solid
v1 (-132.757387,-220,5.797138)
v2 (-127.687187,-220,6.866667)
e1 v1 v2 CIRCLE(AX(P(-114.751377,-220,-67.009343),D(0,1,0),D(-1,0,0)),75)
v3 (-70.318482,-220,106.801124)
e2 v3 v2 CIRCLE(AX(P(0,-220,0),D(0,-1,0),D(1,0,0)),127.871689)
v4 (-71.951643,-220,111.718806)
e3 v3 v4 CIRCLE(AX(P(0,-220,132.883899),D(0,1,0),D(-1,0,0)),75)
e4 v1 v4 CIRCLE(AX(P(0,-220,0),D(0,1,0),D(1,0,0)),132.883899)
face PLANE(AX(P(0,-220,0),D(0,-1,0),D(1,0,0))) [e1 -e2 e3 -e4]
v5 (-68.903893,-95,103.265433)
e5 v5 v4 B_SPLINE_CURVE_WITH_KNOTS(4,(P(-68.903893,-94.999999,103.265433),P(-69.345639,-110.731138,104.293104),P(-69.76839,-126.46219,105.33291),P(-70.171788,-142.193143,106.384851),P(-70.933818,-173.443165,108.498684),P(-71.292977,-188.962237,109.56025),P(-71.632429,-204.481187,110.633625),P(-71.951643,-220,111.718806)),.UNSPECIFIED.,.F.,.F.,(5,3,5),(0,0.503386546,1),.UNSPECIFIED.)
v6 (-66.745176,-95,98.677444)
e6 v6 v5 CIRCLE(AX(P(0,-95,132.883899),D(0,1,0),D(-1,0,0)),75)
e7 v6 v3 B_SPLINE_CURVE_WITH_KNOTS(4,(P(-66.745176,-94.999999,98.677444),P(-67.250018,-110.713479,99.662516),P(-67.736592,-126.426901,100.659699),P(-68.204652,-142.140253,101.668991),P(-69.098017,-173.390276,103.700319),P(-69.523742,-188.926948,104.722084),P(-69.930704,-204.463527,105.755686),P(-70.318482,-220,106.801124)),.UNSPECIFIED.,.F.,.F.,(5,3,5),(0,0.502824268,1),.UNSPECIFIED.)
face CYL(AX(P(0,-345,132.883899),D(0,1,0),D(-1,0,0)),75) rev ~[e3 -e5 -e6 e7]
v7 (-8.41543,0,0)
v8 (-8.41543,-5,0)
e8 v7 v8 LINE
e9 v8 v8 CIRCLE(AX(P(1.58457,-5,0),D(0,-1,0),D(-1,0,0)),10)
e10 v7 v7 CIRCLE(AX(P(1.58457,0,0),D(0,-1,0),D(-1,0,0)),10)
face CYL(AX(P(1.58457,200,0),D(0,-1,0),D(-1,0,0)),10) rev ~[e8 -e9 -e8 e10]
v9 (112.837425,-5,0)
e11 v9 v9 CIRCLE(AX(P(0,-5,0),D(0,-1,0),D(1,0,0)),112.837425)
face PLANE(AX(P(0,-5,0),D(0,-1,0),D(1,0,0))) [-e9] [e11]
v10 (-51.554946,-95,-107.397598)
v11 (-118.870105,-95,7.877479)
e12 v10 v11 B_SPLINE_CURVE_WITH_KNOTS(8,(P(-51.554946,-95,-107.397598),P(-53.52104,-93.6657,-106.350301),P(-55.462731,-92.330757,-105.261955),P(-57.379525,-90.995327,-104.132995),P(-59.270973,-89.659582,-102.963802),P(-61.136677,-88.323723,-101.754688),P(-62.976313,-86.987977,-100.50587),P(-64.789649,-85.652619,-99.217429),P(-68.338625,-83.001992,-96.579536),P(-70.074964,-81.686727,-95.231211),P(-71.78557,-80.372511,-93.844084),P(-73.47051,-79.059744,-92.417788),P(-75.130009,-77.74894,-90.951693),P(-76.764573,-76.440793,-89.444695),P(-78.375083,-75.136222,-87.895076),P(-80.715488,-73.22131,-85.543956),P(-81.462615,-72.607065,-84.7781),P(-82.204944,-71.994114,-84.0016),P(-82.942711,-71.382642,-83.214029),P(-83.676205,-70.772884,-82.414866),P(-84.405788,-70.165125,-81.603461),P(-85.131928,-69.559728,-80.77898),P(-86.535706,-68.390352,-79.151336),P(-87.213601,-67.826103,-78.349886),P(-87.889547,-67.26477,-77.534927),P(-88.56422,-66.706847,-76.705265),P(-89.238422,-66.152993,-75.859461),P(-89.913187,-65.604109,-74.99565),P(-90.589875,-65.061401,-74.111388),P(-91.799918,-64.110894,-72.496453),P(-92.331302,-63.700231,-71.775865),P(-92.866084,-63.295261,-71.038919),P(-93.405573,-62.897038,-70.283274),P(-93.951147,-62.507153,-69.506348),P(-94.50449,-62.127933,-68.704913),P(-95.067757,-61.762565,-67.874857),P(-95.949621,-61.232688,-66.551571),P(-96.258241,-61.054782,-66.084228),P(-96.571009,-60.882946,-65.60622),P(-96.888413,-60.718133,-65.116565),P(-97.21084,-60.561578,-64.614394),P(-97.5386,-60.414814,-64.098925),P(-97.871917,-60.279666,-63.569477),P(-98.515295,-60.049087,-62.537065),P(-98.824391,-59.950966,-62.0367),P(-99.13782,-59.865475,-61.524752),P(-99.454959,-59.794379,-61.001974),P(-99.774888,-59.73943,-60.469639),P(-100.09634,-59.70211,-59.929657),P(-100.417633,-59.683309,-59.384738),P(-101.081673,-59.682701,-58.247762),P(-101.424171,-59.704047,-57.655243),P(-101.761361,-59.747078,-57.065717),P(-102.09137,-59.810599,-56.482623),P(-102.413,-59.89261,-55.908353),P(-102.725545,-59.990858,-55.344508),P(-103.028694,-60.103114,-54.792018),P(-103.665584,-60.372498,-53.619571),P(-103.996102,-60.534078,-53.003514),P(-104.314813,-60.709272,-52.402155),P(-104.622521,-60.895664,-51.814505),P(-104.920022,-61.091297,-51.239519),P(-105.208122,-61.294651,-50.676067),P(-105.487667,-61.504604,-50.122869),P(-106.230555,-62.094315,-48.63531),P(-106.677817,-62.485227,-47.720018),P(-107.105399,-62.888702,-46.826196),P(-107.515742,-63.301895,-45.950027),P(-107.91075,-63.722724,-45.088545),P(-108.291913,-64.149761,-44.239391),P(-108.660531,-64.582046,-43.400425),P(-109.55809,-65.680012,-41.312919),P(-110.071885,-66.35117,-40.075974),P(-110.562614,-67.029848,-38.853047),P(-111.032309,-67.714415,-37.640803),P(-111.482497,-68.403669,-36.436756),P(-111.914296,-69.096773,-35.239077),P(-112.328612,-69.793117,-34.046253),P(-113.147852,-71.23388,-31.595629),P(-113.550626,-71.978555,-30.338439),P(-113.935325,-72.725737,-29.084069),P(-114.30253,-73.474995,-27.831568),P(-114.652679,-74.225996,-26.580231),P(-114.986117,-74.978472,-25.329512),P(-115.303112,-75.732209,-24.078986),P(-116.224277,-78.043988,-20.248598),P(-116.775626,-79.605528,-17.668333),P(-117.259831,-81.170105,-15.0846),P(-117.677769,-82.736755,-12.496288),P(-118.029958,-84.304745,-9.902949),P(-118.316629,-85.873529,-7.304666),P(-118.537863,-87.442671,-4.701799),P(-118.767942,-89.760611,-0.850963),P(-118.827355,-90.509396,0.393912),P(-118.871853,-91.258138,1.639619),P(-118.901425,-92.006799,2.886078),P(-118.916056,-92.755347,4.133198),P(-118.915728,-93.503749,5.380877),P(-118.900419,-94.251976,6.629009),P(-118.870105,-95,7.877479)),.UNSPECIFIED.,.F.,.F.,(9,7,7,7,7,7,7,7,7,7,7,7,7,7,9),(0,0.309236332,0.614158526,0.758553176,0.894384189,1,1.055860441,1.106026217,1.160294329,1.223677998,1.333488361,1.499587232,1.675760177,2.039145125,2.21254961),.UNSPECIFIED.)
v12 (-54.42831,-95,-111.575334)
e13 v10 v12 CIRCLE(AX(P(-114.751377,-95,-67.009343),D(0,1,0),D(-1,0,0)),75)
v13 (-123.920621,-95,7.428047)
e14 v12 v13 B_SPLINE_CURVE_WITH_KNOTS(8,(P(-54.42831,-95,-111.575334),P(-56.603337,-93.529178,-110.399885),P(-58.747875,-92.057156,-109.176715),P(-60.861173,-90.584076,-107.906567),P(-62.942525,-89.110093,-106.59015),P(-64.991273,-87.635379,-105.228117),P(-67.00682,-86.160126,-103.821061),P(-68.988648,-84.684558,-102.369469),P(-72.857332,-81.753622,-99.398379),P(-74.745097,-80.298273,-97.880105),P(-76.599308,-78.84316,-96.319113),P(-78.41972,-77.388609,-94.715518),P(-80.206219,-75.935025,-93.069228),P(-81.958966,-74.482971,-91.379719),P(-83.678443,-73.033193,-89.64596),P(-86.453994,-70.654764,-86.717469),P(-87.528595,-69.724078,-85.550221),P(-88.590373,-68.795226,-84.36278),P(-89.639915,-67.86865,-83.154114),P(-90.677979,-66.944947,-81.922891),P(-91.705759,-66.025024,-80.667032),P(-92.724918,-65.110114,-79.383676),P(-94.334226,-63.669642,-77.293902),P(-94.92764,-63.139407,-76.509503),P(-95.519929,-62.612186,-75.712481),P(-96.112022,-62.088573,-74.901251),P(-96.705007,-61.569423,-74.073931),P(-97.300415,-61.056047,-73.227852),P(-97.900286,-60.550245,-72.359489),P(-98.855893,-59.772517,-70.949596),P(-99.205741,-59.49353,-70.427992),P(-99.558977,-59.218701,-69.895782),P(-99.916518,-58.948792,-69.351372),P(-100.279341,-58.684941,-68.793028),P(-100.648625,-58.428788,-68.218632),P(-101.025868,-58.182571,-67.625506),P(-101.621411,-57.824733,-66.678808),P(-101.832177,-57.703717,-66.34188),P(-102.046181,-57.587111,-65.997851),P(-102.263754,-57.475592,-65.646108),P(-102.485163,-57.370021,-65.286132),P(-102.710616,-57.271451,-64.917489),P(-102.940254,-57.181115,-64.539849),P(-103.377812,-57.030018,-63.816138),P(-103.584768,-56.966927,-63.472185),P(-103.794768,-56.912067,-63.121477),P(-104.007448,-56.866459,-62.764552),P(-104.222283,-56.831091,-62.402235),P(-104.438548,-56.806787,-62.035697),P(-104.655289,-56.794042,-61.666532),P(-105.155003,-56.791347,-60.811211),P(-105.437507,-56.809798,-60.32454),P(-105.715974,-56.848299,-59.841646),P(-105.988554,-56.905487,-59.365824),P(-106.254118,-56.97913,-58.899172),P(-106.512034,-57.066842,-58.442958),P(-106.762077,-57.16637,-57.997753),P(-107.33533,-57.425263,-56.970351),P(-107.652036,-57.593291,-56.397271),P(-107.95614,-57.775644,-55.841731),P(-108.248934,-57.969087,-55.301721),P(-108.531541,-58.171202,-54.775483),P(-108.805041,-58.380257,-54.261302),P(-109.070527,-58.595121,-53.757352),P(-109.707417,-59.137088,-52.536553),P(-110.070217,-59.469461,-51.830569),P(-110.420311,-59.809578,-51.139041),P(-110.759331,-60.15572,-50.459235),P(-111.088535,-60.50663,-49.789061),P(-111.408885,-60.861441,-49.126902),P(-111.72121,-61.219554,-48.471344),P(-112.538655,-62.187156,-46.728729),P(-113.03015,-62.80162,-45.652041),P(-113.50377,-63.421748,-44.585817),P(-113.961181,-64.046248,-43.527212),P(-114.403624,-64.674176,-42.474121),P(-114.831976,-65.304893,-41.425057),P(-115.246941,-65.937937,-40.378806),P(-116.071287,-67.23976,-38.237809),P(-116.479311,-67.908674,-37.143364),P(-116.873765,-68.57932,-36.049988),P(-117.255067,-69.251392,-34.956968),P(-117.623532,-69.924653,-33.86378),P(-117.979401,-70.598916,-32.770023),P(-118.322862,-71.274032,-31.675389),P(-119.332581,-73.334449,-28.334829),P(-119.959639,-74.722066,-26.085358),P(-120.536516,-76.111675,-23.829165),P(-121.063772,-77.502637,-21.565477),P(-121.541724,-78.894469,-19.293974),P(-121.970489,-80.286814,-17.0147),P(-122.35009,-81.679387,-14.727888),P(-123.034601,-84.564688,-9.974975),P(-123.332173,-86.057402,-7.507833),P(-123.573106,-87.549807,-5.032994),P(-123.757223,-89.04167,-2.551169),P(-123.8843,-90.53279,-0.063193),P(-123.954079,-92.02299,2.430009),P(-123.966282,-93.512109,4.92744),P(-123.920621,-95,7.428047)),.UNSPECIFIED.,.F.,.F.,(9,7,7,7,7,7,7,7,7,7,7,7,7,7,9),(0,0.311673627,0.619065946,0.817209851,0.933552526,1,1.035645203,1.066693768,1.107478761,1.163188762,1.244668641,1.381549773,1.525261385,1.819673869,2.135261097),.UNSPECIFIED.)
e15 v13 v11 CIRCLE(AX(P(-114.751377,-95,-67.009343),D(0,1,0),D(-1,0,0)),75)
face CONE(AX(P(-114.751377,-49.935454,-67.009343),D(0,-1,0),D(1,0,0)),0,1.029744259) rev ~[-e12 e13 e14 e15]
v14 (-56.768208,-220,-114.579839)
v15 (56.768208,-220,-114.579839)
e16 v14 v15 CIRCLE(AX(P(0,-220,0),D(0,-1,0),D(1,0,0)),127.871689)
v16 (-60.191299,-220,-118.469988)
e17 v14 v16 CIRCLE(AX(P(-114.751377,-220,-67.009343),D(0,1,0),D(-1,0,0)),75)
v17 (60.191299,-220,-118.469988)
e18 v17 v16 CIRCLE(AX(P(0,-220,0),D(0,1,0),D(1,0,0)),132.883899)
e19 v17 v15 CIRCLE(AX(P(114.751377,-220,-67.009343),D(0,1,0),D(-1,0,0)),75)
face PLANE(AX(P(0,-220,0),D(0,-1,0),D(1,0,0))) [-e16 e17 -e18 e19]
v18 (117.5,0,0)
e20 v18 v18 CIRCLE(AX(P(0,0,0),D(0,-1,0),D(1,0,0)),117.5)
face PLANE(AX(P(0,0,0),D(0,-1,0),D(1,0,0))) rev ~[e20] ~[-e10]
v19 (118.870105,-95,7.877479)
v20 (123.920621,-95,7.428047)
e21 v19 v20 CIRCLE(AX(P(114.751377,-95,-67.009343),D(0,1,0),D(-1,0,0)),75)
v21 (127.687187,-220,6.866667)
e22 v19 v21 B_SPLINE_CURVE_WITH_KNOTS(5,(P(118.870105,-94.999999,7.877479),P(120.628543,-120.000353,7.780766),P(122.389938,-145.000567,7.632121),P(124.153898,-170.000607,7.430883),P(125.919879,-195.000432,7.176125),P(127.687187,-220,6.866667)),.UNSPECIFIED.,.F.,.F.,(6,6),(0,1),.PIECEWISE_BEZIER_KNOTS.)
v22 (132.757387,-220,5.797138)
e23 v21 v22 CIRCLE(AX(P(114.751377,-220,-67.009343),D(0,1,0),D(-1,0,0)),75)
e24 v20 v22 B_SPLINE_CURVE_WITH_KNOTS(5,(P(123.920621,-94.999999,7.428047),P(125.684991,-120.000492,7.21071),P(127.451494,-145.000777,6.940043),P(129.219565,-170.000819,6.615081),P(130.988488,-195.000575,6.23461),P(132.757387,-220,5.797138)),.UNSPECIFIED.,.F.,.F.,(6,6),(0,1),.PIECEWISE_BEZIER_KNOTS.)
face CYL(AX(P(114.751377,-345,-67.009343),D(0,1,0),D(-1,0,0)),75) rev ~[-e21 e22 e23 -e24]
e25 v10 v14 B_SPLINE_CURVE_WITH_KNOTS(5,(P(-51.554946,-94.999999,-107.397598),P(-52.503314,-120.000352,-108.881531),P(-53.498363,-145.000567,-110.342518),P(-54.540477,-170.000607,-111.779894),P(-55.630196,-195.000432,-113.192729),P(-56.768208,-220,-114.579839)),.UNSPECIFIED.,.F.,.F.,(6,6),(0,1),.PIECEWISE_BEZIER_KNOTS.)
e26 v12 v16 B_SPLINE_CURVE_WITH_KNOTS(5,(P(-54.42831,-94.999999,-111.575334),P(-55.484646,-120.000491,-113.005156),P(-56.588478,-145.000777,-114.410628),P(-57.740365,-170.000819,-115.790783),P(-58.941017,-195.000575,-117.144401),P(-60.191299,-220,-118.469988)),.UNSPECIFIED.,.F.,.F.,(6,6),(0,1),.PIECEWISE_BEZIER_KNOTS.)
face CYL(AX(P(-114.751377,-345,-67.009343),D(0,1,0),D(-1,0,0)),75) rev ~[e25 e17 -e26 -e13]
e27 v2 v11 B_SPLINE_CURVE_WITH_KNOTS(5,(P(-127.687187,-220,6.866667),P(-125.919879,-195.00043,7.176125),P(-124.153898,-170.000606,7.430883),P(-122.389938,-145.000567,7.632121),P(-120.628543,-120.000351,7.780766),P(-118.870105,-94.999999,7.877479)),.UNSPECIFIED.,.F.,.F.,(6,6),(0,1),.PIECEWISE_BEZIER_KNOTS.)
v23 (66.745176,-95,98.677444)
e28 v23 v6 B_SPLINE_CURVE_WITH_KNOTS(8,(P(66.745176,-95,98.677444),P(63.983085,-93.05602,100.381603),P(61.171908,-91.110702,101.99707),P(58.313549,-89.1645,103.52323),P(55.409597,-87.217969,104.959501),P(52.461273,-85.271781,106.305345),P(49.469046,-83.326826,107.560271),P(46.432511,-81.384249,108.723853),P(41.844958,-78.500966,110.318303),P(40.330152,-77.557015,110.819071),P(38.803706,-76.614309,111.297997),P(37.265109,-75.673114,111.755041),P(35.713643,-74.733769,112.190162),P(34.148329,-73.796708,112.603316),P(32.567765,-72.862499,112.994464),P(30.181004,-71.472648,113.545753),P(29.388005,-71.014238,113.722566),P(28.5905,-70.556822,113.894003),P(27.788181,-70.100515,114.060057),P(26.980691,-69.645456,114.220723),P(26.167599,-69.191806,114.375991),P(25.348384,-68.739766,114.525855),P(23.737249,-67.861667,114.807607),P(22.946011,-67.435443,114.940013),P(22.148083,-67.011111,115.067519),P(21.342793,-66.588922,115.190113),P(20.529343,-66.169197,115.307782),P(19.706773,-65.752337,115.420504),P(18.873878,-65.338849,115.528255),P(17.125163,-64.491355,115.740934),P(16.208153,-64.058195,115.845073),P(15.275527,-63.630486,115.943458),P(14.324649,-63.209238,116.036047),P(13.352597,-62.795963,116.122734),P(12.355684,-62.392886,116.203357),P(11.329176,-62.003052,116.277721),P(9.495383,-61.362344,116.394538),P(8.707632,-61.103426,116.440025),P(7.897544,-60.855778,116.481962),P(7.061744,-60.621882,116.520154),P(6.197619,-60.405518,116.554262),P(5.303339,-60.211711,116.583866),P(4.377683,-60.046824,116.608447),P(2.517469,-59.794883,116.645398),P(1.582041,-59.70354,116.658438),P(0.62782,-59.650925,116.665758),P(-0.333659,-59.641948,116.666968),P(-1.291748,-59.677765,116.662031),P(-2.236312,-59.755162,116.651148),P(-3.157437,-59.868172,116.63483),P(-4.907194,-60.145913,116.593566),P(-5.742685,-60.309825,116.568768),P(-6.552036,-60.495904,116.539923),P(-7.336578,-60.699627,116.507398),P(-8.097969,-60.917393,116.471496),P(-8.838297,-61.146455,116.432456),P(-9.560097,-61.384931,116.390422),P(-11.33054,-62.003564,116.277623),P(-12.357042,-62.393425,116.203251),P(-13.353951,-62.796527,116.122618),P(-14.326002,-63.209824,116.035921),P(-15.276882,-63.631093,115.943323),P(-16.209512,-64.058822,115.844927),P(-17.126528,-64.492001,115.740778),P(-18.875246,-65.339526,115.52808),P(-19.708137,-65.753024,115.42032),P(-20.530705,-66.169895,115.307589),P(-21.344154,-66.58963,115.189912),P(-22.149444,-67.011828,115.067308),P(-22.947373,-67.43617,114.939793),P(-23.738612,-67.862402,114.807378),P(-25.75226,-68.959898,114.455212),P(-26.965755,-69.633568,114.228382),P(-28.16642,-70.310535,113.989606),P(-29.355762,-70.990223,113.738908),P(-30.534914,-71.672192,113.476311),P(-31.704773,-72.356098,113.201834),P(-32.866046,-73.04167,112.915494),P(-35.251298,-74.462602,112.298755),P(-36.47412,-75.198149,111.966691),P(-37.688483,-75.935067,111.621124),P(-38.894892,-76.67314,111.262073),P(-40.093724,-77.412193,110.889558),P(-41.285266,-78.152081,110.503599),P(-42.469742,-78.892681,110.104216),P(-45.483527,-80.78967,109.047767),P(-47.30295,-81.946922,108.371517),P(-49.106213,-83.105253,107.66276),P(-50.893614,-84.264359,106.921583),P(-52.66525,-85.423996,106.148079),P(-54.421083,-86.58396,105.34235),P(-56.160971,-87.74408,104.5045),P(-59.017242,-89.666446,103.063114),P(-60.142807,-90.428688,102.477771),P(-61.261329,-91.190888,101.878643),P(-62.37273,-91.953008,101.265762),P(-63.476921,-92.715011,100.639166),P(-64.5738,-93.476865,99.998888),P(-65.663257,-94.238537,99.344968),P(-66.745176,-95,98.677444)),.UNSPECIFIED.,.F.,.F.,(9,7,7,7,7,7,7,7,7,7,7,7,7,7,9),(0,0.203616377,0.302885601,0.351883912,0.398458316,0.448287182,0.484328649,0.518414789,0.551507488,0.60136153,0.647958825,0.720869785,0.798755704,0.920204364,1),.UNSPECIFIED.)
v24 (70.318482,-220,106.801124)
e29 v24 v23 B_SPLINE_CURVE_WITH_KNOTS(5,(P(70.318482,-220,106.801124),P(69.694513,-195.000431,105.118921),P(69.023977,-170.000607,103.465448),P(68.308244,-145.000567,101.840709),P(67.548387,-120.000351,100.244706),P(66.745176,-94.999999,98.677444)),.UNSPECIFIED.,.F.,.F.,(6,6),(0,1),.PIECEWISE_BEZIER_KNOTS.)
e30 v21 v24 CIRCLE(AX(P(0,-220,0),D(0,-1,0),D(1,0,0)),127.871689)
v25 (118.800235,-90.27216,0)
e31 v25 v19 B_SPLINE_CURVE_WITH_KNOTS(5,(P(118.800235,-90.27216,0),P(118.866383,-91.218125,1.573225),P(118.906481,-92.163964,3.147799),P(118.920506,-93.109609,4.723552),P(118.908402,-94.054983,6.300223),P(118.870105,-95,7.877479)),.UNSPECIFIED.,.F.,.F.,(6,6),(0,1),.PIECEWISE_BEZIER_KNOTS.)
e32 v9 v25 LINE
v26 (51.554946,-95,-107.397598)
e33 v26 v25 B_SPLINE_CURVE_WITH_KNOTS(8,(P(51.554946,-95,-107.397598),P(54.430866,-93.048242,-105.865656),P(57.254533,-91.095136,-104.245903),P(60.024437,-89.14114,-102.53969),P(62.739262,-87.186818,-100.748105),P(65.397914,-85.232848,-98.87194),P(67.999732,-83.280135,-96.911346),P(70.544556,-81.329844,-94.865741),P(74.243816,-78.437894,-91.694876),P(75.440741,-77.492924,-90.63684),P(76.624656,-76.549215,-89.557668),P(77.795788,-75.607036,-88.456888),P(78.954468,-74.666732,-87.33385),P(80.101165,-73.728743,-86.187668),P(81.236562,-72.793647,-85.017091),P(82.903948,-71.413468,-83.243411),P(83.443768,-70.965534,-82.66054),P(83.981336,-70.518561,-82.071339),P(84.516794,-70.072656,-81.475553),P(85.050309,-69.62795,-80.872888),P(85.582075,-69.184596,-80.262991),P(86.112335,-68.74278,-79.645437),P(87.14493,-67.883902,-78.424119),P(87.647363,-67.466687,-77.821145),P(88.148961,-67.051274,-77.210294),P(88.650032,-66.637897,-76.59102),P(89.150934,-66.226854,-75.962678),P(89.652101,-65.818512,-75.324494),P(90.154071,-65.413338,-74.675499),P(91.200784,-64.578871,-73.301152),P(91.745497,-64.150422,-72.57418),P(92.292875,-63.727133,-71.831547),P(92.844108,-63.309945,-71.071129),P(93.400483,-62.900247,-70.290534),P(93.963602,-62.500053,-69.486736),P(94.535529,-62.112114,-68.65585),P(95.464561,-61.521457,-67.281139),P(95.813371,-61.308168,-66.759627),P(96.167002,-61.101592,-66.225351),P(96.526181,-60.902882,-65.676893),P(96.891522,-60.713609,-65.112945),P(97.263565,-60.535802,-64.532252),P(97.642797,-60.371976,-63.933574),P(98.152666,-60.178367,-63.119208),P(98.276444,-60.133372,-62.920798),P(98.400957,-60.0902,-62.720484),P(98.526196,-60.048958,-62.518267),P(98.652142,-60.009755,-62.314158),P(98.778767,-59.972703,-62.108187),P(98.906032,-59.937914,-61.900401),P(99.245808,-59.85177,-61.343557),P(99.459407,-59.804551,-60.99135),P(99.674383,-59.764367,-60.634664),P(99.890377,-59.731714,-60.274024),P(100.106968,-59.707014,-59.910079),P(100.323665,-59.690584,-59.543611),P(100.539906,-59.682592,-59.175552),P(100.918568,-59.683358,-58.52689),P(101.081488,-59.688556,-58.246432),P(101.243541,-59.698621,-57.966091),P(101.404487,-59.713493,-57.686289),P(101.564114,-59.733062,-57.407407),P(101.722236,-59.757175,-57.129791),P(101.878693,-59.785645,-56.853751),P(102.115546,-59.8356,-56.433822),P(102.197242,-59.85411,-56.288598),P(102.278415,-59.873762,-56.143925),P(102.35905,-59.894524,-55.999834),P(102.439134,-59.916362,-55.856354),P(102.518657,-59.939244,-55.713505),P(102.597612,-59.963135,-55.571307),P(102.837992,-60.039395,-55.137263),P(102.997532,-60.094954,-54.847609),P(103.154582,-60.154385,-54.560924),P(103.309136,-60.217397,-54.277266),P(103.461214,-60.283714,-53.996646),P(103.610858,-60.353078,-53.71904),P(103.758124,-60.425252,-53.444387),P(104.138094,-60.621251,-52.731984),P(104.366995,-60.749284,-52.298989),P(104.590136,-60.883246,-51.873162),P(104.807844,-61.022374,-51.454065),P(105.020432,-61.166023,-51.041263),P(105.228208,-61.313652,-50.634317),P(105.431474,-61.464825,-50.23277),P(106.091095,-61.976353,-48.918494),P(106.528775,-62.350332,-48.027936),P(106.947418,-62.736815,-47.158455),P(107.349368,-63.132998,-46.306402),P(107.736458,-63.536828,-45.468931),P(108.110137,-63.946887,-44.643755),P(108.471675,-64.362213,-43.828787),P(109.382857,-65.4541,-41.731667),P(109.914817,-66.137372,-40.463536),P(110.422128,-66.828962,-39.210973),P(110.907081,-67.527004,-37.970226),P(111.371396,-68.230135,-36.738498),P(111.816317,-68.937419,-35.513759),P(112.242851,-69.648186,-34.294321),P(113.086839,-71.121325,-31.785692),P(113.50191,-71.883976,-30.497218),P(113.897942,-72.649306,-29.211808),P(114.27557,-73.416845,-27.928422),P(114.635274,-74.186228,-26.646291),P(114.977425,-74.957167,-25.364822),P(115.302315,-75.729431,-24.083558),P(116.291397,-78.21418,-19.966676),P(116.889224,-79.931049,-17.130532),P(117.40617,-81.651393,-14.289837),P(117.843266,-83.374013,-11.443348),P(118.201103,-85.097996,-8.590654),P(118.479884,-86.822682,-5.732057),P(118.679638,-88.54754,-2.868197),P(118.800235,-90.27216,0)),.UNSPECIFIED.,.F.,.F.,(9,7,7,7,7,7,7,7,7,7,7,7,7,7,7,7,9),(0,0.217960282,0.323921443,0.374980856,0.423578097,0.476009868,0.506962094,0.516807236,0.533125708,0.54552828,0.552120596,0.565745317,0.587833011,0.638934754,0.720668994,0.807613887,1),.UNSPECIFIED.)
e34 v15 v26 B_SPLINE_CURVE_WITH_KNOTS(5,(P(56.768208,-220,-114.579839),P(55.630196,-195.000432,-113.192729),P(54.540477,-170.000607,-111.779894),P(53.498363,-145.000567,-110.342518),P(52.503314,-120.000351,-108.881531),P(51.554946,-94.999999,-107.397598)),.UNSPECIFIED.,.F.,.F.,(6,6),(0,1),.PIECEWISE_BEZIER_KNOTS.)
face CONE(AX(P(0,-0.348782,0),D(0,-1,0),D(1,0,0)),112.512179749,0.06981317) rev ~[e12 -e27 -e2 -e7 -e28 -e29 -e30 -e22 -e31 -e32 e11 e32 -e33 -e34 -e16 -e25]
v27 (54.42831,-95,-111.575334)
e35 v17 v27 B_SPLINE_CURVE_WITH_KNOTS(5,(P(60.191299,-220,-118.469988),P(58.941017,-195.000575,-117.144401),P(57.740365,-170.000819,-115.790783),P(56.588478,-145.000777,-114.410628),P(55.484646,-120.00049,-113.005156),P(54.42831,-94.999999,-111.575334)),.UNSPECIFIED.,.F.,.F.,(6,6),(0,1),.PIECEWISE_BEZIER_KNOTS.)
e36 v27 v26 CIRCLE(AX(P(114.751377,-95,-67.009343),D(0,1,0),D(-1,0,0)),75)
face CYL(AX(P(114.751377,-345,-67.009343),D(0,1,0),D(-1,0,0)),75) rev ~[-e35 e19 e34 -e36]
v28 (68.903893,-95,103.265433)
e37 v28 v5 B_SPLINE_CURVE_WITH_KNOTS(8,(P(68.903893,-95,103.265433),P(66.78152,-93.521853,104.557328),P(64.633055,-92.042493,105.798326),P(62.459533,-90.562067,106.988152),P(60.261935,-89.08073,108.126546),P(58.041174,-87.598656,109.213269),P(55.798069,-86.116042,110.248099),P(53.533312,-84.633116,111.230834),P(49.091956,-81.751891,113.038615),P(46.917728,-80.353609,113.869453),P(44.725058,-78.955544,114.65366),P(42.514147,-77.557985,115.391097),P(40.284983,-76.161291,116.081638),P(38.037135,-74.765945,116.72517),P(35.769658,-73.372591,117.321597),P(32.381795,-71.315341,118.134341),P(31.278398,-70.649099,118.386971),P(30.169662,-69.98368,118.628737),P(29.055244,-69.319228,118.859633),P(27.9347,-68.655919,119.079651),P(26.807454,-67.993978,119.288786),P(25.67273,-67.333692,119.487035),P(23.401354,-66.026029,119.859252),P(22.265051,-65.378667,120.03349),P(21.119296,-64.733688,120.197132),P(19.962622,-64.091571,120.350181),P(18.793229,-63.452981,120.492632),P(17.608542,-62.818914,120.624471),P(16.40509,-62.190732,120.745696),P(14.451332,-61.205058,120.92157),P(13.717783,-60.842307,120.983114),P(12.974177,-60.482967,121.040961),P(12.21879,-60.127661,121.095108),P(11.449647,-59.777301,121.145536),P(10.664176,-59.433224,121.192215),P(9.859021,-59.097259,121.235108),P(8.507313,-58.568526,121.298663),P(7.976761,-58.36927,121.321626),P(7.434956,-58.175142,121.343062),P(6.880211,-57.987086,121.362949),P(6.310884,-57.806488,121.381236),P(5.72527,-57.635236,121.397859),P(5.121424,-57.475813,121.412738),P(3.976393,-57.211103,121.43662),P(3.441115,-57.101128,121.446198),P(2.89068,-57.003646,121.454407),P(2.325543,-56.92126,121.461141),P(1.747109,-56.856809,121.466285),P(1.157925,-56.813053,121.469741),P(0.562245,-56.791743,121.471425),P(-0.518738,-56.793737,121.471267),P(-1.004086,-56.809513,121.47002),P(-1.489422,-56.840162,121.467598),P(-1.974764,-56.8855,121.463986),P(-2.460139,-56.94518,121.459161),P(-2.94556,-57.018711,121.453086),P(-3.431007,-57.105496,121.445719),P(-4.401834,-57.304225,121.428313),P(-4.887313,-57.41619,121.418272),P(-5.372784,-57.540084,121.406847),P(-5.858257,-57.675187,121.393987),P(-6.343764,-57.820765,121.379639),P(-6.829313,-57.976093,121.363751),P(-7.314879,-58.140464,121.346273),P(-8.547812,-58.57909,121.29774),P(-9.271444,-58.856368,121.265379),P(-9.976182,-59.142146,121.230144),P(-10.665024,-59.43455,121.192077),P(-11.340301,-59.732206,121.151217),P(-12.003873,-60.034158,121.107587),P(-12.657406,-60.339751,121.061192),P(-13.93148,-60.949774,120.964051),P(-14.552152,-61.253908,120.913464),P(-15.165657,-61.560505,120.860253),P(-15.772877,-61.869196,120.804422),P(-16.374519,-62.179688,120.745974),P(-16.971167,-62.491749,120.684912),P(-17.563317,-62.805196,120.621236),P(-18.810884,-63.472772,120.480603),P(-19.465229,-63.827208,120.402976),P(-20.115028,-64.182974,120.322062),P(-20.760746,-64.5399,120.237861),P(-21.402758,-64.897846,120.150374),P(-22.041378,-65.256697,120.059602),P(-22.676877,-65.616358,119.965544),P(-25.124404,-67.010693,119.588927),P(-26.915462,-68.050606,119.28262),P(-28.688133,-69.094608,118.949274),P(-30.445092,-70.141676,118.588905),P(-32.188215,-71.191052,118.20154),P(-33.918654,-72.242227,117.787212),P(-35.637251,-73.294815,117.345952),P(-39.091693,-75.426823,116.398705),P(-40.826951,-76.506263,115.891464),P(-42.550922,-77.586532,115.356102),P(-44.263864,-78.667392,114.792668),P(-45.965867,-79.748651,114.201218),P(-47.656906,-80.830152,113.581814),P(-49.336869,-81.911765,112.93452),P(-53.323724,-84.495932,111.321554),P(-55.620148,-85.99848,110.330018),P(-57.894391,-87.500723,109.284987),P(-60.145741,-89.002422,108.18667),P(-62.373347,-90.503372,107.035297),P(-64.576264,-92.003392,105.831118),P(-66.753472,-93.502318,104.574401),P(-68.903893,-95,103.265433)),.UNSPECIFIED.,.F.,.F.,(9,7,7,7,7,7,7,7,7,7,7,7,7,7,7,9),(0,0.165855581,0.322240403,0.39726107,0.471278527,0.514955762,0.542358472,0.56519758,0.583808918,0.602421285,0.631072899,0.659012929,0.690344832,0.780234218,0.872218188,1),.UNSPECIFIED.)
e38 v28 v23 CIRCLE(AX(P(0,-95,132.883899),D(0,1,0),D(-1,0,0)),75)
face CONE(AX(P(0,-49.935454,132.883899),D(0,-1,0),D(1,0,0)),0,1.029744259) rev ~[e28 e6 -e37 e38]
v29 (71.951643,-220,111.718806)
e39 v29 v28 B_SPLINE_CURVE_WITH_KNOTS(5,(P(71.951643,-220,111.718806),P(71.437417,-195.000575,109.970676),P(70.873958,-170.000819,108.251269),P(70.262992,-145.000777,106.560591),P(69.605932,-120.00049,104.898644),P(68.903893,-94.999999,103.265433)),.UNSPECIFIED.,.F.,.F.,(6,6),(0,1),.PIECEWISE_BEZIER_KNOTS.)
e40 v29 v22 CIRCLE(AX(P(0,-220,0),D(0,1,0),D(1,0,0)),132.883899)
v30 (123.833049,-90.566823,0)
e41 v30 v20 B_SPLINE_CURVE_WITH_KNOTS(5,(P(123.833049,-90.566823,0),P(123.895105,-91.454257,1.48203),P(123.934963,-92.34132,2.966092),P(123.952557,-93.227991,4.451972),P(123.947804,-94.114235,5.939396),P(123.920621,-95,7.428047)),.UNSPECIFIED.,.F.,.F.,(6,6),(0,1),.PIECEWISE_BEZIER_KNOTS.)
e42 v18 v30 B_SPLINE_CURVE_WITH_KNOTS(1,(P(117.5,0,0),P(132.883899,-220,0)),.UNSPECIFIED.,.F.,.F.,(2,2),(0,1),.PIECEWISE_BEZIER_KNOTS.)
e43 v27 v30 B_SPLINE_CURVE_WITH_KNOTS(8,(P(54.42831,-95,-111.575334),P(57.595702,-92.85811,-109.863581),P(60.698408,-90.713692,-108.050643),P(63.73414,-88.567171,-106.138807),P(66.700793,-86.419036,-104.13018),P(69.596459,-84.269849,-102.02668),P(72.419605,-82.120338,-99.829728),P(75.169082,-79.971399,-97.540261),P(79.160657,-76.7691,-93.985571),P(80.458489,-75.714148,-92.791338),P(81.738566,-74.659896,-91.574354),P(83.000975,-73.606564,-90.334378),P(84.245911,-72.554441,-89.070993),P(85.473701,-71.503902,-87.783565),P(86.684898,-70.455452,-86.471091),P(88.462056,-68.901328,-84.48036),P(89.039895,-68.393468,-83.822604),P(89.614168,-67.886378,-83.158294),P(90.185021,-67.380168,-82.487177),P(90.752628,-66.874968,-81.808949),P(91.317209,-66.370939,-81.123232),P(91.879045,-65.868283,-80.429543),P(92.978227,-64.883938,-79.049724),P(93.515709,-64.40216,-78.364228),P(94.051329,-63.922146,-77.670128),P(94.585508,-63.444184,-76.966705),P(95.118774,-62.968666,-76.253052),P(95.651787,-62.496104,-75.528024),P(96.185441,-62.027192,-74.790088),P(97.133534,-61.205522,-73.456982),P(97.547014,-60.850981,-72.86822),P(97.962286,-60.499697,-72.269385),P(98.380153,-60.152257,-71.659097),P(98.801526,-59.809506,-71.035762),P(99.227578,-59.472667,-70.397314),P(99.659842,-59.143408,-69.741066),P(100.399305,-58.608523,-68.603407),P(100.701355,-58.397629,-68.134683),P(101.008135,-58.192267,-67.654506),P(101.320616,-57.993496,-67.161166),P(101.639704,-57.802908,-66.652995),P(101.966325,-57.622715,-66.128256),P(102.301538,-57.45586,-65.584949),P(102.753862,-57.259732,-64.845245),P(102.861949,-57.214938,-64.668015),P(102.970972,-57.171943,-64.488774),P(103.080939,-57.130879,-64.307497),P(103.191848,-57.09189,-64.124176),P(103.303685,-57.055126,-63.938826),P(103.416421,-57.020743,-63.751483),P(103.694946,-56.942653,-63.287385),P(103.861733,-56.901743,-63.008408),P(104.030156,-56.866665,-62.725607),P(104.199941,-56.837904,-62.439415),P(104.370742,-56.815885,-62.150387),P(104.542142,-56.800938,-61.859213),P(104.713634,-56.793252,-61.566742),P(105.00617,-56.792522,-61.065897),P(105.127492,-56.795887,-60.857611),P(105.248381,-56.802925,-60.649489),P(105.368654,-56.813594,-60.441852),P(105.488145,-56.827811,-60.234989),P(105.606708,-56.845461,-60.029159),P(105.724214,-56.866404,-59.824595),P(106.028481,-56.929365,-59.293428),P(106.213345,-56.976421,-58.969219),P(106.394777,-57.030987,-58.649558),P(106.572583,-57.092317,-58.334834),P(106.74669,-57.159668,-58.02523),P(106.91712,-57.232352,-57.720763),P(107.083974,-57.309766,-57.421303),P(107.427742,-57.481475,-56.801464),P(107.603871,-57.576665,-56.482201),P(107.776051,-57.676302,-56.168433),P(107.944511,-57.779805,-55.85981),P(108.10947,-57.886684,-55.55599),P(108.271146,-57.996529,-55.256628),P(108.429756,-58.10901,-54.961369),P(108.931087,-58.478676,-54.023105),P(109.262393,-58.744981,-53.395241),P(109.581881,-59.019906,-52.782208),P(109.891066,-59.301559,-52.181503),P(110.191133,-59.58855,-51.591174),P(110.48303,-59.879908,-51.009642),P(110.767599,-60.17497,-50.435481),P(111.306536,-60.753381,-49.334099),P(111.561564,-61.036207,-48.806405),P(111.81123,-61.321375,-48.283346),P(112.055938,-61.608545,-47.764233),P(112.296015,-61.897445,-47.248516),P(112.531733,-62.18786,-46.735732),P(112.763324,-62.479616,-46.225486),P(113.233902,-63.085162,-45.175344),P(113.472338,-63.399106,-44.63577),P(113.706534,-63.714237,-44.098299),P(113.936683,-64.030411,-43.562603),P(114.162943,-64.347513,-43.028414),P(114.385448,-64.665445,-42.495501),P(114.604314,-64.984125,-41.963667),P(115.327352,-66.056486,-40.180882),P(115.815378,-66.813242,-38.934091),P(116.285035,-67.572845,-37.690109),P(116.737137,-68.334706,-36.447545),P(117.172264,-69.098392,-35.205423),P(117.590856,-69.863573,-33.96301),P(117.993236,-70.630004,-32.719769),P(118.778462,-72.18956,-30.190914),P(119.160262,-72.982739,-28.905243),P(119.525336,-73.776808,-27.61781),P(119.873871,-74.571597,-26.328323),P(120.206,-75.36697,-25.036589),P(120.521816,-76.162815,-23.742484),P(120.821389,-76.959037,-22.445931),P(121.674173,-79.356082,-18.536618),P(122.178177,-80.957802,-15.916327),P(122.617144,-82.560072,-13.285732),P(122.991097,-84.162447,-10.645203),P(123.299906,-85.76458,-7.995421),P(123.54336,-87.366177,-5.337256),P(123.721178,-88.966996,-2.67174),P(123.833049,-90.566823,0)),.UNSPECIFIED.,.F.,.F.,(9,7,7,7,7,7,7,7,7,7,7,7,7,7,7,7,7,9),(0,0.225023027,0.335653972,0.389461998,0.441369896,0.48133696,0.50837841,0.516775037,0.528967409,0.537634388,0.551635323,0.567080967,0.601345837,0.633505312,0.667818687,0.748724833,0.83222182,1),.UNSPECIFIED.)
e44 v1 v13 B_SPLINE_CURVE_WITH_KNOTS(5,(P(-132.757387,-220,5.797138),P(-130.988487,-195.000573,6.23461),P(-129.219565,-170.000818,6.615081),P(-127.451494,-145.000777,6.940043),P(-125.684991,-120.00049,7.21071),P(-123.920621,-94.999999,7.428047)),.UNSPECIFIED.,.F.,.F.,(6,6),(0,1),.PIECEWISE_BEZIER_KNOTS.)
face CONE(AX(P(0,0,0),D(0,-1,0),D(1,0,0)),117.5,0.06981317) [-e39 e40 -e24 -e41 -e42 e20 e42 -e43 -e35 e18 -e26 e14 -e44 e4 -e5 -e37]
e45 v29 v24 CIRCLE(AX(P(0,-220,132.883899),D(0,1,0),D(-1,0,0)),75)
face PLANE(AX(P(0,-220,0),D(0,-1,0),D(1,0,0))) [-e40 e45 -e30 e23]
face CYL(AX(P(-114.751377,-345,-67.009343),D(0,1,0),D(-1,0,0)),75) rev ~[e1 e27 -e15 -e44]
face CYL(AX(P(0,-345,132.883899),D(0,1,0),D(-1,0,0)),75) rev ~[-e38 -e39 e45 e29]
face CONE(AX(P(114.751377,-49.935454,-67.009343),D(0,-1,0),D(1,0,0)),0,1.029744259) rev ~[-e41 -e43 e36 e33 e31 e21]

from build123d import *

# Parameters (mm, degrees)
F0_R     = 117.5
F1_DEPTH = 220
F1_TAPER = -4
F2_T     = -5
F3_D     = 20
F3_DEPTH = 200
F3_TIP   = 6.0086061903
F5_D     = 150
F5_DEPTH = 125
F5_TIP   = 45.0645464271


with BuildPart() as f1:
    # F0 (on Front) → F1 (new body)
    with BuildSketch(Plane.XZ):
        Circle(F0_R)
    extrude(amount=F1_DEPTH, taper=F1_TAPER)

    # F2
    f2_openings = [f1.faces().sort_by_distance(p)[0] for p in [
        (0, -220, 0),
    ]]
    offset(amount=F2_T, openings=f2_openings, kind=Kind.INTERSECTION)

    # F3
    with Locations(Plane(origin=(0, 0, 0), x_dir=(1, 0, 0), z_dir=(0, 1, 0))):
        with Locations((1.5845698072, 0)):
            Hole(F3_D / 2, depth=F3_DEPTH)
            with Locations((0, 0, -(F3_DEPTH + F3_TIP / 2))):  # 118° drill point
                Cone(0, F3_D / 2, F3_TIP, mode=Mode.SUBTRACT)

    # F5
    with Locations(Plane.XZ.offset(220)):
        with Locations((0, 132.8838986276), (-114.7513767367, -67.0093430165), (114.7513767367, -67.0093430165)):
            Hole(F5_D / 2, depth=F5_DEPTH)
            with Locations((0, 0, -(F5_DEPTH + F5_TIP / 2))):  # 118° drill point
                Cone(0, F5_D / 2, F5_TIP, mode=Mode.SUBTRACT)


solid = f1.part
